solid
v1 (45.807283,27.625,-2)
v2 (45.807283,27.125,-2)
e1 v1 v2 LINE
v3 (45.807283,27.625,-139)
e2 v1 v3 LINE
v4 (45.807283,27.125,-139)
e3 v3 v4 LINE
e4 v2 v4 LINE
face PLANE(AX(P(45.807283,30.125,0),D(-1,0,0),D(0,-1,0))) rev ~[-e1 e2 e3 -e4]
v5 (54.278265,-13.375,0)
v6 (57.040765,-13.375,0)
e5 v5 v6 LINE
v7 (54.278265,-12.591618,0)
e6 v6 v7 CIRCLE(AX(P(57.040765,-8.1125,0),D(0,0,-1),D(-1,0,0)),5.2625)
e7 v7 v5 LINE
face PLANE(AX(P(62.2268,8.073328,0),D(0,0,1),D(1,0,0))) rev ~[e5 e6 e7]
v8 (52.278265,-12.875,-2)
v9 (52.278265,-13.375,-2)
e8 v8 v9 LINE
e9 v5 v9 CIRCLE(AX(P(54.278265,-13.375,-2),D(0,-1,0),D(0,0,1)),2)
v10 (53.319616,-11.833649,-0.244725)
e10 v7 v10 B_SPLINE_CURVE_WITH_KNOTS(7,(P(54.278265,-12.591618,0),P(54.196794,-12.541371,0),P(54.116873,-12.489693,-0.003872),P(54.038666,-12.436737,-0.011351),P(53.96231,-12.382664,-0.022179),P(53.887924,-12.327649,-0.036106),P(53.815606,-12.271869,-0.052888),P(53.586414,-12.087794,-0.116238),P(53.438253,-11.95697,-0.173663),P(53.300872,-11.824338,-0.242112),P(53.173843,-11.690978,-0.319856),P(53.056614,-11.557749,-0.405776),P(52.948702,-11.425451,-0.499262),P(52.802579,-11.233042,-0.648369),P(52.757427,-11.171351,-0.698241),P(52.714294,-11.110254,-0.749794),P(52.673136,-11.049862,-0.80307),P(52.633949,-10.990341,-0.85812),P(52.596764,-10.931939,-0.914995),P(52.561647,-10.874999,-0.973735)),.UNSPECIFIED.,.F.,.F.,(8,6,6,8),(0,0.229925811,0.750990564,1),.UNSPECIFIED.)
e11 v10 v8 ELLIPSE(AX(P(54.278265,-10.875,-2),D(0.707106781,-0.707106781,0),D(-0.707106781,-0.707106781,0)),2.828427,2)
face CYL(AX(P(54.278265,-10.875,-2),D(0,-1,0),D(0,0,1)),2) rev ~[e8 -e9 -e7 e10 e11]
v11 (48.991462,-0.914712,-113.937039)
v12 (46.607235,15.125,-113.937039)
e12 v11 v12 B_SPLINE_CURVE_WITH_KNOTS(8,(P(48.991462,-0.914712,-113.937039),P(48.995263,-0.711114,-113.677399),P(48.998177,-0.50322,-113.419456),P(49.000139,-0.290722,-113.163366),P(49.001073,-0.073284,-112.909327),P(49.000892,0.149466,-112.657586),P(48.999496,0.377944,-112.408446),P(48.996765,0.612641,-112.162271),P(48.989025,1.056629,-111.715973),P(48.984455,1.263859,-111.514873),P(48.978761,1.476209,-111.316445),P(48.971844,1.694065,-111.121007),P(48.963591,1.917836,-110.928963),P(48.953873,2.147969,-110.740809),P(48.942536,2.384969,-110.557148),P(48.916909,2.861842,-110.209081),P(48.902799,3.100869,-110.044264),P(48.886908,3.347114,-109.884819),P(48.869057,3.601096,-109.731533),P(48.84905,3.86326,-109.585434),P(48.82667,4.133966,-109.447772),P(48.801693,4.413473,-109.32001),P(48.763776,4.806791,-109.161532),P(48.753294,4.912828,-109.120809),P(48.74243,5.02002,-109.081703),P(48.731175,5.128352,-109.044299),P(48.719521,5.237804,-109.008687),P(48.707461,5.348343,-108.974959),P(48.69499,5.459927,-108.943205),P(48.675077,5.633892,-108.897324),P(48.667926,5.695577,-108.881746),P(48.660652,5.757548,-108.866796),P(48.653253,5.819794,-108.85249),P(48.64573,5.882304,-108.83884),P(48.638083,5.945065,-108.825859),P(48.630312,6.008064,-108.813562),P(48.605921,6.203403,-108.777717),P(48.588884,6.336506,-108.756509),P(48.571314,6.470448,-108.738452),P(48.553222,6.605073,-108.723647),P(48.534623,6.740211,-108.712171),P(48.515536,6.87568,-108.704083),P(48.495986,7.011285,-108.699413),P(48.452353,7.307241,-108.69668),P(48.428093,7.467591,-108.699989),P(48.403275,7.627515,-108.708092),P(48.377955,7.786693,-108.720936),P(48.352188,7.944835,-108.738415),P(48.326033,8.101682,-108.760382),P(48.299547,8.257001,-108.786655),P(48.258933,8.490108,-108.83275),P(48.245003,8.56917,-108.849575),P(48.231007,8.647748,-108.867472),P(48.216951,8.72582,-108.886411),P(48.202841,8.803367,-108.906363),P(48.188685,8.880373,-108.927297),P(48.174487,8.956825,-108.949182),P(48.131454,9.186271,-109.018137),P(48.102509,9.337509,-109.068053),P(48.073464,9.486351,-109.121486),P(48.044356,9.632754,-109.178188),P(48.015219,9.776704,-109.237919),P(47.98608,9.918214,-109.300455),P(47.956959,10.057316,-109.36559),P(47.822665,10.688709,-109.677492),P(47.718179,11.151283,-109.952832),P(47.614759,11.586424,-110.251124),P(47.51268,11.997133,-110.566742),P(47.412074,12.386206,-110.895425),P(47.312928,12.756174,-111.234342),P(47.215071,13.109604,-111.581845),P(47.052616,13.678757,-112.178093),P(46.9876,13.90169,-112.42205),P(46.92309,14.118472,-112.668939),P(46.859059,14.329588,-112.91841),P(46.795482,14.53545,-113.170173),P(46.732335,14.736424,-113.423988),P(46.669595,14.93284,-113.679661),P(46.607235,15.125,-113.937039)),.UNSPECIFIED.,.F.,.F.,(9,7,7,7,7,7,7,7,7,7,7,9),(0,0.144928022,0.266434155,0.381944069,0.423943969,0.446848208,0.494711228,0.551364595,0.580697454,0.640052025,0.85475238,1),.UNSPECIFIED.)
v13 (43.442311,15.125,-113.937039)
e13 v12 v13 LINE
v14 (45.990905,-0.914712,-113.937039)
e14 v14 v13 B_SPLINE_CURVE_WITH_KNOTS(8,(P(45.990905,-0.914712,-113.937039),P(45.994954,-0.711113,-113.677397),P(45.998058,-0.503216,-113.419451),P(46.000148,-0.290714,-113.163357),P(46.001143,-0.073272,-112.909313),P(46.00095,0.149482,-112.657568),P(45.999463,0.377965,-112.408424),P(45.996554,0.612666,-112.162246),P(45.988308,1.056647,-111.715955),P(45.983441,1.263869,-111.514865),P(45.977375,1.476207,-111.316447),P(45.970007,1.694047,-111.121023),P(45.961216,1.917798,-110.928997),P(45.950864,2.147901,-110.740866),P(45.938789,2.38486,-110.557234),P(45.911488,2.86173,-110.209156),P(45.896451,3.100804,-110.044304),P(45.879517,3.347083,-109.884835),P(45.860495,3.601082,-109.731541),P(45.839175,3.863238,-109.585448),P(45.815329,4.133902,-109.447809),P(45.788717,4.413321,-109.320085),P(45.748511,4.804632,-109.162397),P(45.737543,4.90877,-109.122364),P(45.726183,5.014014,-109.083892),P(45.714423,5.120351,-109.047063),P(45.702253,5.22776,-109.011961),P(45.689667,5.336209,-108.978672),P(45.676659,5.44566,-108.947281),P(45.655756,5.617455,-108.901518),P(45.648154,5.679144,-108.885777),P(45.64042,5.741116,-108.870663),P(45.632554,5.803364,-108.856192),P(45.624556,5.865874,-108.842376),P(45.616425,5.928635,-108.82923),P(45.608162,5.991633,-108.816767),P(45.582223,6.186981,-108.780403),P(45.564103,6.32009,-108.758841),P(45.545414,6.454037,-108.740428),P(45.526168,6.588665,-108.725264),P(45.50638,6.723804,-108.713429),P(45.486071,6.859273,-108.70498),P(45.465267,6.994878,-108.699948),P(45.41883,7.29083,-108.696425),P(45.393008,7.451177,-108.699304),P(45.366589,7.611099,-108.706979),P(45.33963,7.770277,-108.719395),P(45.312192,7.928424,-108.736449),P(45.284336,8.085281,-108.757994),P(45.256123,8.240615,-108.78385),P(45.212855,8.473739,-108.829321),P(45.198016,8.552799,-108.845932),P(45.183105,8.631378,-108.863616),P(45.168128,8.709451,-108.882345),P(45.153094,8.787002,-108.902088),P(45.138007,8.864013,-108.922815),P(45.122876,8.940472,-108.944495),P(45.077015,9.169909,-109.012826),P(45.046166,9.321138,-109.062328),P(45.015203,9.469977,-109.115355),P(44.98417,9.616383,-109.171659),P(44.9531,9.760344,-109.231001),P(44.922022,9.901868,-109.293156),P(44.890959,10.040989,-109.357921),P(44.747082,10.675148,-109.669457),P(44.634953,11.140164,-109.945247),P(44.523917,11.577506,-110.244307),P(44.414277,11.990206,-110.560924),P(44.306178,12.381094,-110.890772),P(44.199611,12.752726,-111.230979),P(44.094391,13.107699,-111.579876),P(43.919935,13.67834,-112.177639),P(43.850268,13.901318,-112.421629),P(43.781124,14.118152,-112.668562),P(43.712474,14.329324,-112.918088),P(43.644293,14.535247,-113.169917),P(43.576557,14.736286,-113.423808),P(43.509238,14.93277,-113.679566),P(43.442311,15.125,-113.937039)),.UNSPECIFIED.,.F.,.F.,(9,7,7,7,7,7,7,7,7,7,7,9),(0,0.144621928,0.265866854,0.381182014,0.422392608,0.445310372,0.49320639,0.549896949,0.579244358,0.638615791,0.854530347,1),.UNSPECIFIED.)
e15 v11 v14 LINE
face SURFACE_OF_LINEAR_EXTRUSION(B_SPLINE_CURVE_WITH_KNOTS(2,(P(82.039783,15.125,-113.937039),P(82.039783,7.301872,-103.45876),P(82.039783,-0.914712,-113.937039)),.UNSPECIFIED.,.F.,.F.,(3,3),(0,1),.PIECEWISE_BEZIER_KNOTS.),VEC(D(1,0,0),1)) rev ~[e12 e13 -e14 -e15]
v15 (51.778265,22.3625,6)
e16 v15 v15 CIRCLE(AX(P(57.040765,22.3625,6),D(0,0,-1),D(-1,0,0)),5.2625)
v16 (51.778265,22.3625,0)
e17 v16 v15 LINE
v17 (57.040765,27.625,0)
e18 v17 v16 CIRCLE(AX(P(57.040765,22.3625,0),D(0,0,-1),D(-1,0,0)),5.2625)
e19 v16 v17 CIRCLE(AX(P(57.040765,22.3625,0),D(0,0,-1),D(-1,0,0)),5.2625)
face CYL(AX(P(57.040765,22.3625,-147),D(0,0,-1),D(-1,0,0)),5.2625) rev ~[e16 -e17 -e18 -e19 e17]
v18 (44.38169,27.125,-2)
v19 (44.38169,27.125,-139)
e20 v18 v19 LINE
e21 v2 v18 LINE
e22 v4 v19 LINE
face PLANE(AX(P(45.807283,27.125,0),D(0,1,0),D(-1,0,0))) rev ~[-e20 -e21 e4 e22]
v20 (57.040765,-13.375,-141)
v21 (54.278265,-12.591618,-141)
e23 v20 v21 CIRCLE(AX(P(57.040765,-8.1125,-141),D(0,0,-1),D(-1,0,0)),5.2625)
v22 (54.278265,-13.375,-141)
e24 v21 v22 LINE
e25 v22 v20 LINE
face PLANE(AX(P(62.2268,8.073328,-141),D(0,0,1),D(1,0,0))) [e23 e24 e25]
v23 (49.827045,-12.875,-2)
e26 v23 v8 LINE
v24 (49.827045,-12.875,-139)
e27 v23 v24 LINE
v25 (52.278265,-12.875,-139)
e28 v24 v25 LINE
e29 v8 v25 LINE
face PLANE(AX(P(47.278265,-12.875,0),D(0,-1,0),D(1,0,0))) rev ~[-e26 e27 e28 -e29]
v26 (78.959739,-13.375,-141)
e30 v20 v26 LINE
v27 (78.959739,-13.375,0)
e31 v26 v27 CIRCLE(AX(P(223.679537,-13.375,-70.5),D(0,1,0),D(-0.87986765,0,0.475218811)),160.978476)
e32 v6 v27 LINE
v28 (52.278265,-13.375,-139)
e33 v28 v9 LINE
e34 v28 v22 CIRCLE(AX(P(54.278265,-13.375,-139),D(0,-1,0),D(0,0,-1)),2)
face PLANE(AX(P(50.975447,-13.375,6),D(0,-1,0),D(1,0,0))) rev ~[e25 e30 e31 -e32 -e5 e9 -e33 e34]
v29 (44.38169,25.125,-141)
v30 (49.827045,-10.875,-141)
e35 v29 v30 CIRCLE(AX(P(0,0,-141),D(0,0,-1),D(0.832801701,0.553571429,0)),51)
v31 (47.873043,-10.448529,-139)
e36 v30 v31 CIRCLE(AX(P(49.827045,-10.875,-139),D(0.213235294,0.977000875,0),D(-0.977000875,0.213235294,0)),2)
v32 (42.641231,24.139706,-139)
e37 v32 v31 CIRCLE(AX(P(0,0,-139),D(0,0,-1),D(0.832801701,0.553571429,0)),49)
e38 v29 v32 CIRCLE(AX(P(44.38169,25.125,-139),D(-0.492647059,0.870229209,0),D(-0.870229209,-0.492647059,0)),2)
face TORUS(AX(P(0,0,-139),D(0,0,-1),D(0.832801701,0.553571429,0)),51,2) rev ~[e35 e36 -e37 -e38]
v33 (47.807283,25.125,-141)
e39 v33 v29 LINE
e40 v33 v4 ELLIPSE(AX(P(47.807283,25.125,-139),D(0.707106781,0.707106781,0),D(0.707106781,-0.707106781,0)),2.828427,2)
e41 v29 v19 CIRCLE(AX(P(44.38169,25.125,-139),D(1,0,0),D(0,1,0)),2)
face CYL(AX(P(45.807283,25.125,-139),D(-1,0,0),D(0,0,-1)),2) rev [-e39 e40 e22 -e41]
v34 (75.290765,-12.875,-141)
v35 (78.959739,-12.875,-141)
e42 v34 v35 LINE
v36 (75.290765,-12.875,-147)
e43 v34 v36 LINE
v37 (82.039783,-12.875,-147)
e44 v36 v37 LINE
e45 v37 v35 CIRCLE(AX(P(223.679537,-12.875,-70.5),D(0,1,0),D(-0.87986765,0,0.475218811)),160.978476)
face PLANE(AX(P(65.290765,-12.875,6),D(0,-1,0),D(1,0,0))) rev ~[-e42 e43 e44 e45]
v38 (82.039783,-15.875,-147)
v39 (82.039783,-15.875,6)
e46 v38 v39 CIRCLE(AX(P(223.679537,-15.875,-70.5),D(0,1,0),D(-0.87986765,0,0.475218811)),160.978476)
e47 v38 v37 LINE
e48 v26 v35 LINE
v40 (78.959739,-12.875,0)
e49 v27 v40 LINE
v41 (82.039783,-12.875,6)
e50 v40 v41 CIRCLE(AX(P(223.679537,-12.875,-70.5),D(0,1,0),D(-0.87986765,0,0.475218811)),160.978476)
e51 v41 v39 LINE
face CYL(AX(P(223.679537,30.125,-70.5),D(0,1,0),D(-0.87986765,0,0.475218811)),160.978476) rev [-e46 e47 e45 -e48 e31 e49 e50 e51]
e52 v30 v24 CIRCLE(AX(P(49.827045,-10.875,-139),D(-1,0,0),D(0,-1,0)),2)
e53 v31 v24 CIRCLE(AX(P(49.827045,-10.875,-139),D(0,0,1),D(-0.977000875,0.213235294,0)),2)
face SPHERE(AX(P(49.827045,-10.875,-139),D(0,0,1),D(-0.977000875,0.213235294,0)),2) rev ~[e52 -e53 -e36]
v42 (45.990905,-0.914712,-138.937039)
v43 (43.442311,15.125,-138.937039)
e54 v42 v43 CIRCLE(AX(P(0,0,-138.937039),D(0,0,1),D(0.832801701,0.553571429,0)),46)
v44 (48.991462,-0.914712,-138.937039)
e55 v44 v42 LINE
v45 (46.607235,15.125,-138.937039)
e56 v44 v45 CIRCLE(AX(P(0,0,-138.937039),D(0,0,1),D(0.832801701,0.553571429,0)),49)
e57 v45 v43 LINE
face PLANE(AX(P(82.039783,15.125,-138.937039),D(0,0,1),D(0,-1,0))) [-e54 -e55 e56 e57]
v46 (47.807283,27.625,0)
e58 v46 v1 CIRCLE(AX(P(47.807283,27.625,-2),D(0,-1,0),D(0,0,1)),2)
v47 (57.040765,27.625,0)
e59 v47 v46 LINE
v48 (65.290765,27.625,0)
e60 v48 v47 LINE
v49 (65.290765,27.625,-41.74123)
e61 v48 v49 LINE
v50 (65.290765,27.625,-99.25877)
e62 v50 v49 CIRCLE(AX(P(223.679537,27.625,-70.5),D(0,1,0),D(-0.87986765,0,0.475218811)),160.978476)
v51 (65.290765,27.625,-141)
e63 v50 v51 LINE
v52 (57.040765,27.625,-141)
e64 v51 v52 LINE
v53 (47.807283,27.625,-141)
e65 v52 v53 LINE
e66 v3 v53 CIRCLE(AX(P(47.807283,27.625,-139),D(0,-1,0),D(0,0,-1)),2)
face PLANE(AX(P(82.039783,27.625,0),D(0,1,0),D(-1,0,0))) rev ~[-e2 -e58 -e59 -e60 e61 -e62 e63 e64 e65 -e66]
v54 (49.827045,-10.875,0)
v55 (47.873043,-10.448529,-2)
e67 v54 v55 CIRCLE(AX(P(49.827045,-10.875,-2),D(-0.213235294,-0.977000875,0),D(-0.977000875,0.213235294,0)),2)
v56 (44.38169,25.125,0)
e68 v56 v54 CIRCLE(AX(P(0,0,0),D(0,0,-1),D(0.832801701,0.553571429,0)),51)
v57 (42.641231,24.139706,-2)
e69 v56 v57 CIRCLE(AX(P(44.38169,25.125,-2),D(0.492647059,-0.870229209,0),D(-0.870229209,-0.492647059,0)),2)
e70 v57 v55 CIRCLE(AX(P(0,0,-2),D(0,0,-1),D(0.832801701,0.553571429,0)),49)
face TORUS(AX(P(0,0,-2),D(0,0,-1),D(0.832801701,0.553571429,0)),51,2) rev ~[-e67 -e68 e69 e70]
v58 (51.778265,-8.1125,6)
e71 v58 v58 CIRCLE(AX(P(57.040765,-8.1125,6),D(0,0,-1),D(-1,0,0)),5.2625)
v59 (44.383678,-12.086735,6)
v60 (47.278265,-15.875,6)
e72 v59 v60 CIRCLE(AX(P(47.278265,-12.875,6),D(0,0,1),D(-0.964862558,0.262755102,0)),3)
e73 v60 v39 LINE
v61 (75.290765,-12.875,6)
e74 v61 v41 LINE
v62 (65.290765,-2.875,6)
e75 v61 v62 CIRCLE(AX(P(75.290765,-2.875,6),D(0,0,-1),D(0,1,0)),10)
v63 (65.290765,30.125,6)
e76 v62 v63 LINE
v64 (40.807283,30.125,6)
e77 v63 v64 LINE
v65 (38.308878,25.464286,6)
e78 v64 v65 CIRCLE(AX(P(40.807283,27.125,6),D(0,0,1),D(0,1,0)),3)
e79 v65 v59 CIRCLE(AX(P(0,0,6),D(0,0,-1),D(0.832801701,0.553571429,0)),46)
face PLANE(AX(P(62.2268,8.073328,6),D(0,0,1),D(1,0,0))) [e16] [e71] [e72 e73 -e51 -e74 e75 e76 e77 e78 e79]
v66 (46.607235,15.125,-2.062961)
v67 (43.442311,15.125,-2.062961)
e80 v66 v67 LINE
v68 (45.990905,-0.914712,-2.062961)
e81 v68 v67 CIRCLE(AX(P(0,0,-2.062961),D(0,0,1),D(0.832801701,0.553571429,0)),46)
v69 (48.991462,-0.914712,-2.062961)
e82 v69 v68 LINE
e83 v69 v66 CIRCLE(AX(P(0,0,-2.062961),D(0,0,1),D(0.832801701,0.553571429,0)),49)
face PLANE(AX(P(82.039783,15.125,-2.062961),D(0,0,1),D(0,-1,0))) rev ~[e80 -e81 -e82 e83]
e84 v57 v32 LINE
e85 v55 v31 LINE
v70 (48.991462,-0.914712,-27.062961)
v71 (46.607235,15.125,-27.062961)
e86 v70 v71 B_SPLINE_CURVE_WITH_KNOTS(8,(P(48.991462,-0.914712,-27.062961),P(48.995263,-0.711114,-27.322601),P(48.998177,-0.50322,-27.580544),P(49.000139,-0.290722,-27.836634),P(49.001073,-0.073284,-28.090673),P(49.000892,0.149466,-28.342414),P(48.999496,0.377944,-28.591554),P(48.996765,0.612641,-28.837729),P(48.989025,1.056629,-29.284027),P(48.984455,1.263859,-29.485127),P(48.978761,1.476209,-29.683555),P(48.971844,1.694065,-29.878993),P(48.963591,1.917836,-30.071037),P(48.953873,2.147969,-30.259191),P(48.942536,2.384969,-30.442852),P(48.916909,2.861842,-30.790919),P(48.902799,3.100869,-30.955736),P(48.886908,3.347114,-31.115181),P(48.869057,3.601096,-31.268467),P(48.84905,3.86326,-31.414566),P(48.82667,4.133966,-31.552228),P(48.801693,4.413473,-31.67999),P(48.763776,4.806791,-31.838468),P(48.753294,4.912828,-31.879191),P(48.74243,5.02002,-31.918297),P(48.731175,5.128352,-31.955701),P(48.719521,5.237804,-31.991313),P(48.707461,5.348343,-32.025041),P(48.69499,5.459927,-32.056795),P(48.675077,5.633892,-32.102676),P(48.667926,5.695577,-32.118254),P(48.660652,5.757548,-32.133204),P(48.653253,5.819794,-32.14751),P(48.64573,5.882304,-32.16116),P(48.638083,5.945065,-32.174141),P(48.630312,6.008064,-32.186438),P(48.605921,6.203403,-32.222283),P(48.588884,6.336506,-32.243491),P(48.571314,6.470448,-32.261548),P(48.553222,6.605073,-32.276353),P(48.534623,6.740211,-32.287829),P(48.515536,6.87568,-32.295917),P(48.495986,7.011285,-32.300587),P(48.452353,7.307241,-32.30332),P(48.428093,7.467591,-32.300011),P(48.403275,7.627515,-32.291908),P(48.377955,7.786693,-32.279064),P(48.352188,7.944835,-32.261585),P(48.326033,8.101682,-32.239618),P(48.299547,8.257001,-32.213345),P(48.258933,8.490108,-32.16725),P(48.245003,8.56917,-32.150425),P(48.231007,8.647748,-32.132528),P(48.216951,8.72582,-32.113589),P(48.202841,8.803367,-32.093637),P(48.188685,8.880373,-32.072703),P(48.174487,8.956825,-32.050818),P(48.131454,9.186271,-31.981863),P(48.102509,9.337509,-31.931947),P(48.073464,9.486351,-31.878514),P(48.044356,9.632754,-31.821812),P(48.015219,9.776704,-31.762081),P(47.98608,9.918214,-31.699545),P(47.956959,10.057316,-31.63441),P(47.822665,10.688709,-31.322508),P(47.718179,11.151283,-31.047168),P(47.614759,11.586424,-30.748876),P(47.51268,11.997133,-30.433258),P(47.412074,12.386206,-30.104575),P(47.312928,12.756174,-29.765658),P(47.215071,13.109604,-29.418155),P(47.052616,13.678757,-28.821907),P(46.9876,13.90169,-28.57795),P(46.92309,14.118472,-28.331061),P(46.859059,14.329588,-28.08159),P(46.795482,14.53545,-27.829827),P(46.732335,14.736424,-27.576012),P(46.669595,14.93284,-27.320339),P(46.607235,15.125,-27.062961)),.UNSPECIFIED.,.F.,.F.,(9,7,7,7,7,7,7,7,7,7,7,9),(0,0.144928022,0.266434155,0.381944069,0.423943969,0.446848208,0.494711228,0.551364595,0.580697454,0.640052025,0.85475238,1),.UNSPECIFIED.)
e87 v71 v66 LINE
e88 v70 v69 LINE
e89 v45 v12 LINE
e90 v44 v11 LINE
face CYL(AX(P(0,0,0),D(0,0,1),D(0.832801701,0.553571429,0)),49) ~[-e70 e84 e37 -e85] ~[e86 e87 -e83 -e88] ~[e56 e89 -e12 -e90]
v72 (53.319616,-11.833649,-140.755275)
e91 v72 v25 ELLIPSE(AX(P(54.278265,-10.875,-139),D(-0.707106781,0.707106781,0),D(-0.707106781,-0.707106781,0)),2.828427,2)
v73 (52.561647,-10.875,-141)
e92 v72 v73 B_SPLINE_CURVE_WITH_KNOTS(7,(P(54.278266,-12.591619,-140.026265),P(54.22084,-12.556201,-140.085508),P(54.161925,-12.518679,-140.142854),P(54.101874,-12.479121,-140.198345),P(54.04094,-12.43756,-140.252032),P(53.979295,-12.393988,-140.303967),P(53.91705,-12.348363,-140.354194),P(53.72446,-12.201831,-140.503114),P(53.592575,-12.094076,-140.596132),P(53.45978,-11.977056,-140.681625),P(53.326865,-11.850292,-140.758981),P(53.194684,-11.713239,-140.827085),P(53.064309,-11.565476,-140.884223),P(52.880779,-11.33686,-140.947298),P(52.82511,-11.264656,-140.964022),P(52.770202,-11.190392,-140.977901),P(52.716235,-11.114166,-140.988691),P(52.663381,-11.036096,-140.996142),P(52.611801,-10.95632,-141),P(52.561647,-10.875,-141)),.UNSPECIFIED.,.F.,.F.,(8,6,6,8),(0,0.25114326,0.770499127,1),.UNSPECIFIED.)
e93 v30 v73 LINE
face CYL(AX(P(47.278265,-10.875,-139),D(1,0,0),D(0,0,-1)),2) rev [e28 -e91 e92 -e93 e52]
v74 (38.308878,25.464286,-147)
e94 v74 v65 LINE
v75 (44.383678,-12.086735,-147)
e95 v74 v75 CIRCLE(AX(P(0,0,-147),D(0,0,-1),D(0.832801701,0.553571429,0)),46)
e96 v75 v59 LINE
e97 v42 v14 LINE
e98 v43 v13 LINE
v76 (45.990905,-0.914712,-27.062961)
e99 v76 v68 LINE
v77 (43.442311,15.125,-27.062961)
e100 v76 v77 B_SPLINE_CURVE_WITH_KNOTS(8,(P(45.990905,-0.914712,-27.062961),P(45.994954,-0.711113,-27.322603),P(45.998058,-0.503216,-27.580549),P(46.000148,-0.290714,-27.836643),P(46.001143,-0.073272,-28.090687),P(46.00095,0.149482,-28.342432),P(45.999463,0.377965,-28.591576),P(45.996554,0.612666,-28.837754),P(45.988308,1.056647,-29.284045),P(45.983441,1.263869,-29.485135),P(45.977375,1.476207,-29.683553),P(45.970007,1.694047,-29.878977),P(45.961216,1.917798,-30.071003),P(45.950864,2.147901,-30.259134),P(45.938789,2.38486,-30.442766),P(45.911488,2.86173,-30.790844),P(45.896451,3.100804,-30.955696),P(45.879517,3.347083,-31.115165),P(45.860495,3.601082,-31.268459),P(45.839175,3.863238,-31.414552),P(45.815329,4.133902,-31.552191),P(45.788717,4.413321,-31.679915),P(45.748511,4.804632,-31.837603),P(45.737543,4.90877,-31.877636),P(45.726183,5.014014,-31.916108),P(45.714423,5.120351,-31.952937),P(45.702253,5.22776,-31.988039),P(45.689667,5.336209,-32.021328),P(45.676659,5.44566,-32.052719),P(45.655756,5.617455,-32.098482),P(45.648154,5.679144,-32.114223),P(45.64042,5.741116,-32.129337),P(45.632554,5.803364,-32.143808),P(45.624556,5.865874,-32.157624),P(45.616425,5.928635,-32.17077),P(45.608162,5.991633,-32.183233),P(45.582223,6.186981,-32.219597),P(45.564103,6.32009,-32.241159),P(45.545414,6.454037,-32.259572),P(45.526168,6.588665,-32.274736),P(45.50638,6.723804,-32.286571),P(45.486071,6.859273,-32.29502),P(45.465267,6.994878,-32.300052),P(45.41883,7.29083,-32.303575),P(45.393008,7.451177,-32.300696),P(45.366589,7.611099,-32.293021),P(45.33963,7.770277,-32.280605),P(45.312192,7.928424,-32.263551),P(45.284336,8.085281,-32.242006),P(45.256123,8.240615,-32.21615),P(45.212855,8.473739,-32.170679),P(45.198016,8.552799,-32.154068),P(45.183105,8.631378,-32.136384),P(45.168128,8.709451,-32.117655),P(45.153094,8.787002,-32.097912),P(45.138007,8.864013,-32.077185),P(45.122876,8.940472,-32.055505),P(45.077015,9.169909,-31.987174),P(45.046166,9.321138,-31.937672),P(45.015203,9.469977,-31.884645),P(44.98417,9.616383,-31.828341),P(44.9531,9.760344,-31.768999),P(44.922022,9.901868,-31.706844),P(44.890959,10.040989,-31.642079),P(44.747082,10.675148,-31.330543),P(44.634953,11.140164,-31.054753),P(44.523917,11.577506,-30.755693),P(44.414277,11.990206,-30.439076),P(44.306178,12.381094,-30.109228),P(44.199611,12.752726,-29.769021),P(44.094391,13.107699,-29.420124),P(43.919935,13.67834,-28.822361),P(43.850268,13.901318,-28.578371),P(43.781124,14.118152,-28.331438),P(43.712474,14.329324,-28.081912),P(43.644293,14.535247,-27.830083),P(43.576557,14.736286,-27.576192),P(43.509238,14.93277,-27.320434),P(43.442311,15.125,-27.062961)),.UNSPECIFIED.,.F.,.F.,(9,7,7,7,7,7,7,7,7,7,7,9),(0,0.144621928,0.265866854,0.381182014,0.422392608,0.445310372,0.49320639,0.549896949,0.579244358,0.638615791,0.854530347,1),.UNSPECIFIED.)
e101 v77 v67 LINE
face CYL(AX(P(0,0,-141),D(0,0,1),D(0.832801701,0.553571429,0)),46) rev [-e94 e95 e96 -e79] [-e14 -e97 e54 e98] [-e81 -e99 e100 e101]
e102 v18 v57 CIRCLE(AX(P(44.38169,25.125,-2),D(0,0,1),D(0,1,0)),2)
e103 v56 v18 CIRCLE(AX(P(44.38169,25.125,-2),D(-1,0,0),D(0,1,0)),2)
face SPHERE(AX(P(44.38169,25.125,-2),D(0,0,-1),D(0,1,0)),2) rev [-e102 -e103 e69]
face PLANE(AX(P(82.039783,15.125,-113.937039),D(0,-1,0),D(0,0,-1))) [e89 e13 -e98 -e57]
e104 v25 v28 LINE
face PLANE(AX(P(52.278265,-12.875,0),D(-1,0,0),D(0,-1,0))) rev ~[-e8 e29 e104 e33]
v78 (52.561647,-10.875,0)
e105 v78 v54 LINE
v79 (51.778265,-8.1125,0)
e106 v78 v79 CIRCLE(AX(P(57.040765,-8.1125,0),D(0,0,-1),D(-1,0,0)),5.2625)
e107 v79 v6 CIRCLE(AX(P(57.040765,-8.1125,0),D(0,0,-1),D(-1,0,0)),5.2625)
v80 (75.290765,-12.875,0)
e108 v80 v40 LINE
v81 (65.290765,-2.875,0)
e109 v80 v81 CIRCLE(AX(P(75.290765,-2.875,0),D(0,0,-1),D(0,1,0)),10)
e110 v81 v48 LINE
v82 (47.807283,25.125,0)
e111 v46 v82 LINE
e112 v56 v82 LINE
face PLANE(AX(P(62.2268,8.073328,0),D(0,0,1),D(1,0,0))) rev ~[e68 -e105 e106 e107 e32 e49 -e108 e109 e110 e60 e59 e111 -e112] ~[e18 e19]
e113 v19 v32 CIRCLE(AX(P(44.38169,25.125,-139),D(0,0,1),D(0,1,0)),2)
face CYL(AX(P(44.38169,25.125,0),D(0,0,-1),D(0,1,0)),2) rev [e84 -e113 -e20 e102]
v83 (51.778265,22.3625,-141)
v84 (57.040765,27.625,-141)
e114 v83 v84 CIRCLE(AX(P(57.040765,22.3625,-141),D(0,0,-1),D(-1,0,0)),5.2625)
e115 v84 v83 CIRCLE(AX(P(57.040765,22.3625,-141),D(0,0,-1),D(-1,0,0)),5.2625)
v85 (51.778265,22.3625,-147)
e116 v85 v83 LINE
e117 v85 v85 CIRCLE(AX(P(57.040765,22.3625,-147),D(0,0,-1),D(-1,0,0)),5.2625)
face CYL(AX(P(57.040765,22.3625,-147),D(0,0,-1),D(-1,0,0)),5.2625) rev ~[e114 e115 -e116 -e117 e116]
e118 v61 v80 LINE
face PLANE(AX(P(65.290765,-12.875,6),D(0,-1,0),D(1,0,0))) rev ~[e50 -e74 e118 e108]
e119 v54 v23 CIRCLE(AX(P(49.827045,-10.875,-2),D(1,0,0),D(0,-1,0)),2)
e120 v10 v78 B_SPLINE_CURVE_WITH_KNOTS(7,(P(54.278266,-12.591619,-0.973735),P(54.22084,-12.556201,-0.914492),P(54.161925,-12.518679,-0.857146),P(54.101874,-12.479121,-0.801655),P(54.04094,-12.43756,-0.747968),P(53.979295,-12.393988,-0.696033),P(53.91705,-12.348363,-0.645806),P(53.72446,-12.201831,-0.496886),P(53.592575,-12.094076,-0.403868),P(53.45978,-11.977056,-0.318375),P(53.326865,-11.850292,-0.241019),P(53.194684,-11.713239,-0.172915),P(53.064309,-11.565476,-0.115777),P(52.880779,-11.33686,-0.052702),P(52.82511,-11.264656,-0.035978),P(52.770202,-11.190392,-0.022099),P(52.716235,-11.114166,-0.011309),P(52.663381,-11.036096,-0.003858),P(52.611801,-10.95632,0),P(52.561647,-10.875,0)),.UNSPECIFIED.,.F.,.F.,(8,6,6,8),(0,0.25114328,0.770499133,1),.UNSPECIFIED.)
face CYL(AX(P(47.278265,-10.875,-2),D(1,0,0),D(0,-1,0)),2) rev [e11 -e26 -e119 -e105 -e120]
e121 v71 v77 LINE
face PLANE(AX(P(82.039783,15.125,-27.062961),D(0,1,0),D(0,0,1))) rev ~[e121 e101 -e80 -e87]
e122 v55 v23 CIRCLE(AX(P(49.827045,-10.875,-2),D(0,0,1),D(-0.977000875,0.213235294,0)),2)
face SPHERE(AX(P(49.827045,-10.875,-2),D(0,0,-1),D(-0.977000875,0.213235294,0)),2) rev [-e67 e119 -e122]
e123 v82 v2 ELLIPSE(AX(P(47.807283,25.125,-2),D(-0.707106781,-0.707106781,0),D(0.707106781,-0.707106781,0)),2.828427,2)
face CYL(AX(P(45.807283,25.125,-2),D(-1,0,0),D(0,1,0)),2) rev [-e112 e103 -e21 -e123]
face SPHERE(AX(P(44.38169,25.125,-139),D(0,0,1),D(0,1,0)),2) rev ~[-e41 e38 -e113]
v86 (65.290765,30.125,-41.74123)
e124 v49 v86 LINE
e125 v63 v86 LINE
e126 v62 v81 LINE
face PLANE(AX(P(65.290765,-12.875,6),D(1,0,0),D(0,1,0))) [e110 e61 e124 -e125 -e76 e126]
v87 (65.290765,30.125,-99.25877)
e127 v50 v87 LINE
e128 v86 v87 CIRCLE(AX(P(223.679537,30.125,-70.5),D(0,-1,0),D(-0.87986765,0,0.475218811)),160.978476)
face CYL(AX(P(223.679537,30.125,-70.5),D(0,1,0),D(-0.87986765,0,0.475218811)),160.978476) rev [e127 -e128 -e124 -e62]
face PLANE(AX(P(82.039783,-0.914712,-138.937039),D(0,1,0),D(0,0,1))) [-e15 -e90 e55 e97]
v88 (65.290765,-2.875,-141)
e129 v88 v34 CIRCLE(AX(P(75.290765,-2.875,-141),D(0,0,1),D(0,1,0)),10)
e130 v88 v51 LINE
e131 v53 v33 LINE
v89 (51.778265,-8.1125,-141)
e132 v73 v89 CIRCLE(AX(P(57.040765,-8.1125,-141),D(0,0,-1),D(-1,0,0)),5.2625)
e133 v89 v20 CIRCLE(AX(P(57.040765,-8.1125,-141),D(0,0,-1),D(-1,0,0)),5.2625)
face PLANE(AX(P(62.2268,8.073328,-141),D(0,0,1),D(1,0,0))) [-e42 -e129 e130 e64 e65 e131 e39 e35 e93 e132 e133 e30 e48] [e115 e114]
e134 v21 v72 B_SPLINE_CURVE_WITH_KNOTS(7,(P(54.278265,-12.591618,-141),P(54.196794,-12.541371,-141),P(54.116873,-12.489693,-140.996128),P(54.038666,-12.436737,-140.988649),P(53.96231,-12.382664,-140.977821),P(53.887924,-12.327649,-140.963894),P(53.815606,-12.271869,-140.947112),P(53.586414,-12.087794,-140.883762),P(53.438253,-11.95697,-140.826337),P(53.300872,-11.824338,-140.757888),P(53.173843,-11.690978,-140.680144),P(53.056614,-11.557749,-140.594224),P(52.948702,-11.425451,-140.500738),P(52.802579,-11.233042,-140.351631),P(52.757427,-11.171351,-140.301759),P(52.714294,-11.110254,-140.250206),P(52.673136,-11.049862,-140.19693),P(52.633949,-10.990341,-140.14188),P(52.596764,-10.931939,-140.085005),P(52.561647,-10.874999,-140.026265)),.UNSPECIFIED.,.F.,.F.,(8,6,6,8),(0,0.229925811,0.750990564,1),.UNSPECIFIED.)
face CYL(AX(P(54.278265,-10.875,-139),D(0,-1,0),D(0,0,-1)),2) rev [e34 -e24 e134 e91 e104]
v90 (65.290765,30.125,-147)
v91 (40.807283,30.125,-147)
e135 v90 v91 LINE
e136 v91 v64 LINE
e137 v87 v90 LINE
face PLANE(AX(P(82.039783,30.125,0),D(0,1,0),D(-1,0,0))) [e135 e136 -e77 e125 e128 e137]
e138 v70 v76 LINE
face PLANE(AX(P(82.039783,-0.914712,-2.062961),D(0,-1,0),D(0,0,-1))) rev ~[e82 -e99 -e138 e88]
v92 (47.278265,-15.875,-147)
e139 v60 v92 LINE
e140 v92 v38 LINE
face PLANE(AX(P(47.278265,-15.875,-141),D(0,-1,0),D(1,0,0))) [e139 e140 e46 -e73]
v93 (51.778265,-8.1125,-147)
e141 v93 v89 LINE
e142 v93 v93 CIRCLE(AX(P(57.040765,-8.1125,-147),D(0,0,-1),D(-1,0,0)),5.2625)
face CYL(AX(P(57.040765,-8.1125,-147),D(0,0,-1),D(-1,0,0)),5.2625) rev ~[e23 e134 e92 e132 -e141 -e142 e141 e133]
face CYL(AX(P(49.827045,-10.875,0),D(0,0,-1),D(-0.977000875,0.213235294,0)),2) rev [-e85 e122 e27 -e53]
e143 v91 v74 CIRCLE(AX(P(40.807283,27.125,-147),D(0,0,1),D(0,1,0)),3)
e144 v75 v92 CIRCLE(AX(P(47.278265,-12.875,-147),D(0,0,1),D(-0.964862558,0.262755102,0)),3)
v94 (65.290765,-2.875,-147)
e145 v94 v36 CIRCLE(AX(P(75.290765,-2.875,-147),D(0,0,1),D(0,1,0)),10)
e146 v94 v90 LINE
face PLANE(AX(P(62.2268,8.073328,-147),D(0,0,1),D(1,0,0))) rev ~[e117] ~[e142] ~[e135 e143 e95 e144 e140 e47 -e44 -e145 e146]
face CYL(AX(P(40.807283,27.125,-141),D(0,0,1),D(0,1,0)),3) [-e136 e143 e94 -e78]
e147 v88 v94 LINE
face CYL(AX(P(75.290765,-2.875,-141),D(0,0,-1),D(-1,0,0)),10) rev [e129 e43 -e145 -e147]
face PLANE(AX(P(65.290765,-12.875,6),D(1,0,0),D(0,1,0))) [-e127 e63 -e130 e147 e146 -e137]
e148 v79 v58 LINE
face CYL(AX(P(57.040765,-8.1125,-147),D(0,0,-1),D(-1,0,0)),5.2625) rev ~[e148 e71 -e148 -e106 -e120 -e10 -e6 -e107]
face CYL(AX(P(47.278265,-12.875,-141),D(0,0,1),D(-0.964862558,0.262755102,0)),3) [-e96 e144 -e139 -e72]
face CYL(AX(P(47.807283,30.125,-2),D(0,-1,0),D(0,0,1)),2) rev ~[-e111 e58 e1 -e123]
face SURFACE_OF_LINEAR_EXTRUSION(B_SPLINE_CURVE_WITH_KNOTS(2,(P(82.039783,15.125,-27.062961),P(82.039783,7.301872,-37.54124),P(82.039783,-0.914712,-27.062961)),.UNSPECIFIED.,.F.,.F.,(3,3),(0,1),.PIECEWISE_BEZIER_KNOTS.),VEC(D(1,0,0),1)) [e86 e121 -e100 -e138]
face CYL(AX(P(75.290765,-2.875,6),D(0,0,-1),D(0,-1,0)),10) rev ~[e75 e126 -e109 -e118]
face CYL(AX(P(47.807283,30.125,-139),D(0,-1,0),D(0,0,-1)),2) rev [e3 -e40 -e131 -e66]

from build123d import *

# Parameters (mm, degrees)
SALIENTE_EXTRUIR1_DEPTH = 6
SALIENTE_EXTRUIR4_START = 141
SALIENTE_EXTRUIR4_DEPTH = 141
SALIENTE_EXTRUIR5_START = 6
SALIENTE_EXTRUIR5_DEPTH = 6
REDONDEO10_R            = 2
REDONDEO11_R            = 2
CROQUIS8_R              = 5.2625
CORTAR_EXTRUIR5_DEPTH   = 161
CORTAR_EXTRUIR4_DEPTH   = 157.438581273
CROQUIS10_W             = 37.37553938
CROQUIS10_H             = 2.5
SALIENTE_EXTRUIR6_DEPTH = 142
CROQUIS15_W             = 31.064336603
CROQUIS15_H             = 2.5
SALIENTE_EXTRUIR8_DEPTH = 148
CROQUIS16_R             = 1.5
CORTAR_EXTRUIR6_DEPTH   = 156
CORTAR_EXTRUIR7_DEPTH   = 64
CROQUIS19_W             = 16.749018002
CROQUIS19_H             = 43
CORTAR_EXTRUIR9_DEPTH   = 157
REDONDEO12_R            = 10


with BuildPart() as part:
    # Croquis1 → Saliente-Extruir1 (new body)
    with BuildSketch(Plane.XY):
        with BuildLine():
            Line((47.278265355, -15.875), (82.039783357, -15.875))
            Line((82.039783357, -15.875), (82.039783357, 30.125))
            Line((82.039783357, 30.125), (40.807283357, 30.125))
            ThreePointArc((40.807283357, 30.125), (38.163219926, 28.542366774), (38.308878254, 25.464285714))
            ThreePointArc((38.308878254, 25.464285714), (45.409629872, 7.346122436), (44.38367768, -12.086734694))
            ThreePointArc((44.38367768, -12.086734694), (44.89448727, -14.696428571), (47.278265355, -15.875))
        make_face()
    extrude(amount=SALIENTE_EXTRUIR1_DEPTH)

    # Croquis6 → Saliente-Extruir4 (add)
    with BuildSketch(Plane(origin=(0, 0, 0), x_dir=(-1, 0, 0), z_dir=(0, 0, -1)).offset(SALIENTE_EXTRUIR4_START)):
        with BuildLine():
            Line((-45.807283357, 27.125), (-40.807283357, 27.125))
            ThreePointArc((-40.807283357, 27.125), (-48.371127473, 7.825217377), (-47.278265355, -12.875))
            Line((-47.278265355, -12.875), (-52.278265355, -12.875))
            Line((-52.278265355, -12.875), (-52.278265355, -15.875))
            Line((-52.278265355, -15.875), (-47.278265355, -15.875))
            ThreePointArc((-47.278265355, -15.875), (-44.89448727, -14.696428571), (-44.38367768, -12.086734694))
            ThreePointArc((-44.38367768, -12.086734694), (-45.409629872, 7.346122436), (-38.308878254, 25.464285714))
            ThreePointArc((-38.308878254, 25.464285714), (-38.163219926, 28.542366774), (-40.807283357, 30.125))
            Line((-40.807283357, 30.125), (-45.807283357, 30.125))
            Line((-45.807283357, 30.125), (-45.807283357, 27.125))
        make_face()
    extrude(amount=-SALIENTE_EXTRUIR4_DEPTH)

    # Croquis7 → Saliente-Extruir5 (add)
    with BuildSketch(Plane(origin=(0, 0, -141), x_dir=(-1, 0, 0), z_dir=(0, 0, -1)).offset(SALIENTE_EXTRUIR5_START)):
        with BuildLine():
            Line((-82.039783357, 30.125), (-40.807283357, 30.125))
            ThreePointArc((-40.807283357, 30.125), (-38.163219926, 28.542366774), (-38.308878254, 25.464285714))
            ThreePointArc((-38.308878254, 25.464285714), (-45.409629872, 7.346122436), (-44.38367768, -12.086734694))
            ThreePointArc((-44.38367768, -12.086734694), (-44.89448727, -14.696428571), (-47.278265355, -15.875))
            Line((-47.278265355, -15.875), (-82.039783357, -15.875))
            Line((-82.039783357, -15.875), (-82.039783357, 30.125))
        make_face()
    extrude(amount=-SALIENTE_EXTRUIR5_DEPTH)

    # Redondeo10
    redondeo10_edges = [part.edges().sort_by_distance(p)[0] for p in [
        (43.307283357, 27.125, -141),
        (43.307283357, 27.125, 0),
        (49.778265355, -12.875, 0),
        (49.778265355, -12.875, -141),
        (40.807283357, 27.125, -70.5),
        (47.278265355, -12.875, -70.5),
        (48.371127473, 7.825217377, -141),
        (48.371127473, 7.825217377, 0),
    ]]
    fillet(redondeo10_edges, radius=REDONDEO10_R)

    # Redondeo11
    redondeo11_edges = [part.edges().sort_by_distance(p)[0] for p in [
        (45.807283357, 27.625, 0),
        (52.278265355, -13.375, 0),
        (52.278265355, -13.375, -141),
        (45.807283357, 27.625, -141),
    ]]
    fillet(redondeo11_edges, radius=REDONDEO11_R)

    # Croquis8 → Cortar-Extruir5 (cut)
    with BuildSketch(Plane(origin=(0, 0, -147), x_dir=(-1, 0, 0), z_dir=(0, 0, -1))):
        with Locations((-57.040765355, -8.1125)):
            Circle(CROQUIS8_R)
        with Locations((-57.040765355, 22.3625)):
            Circle(CROQUIS8_R)
    extrude(amount=-CORTAR_EXTRUIR5_DEPTH, mode=Mode.SUBTRACT)

    # Croquis9 → Cortar-Extruir4 (cut, through all)
    with BuildSketch(Plane(origin=(82.039783357, 0, 0), x_dir=(0, 0, -1), z_dir=(1, 0, 0))):
        with BuildLine():
            Line((138.937038998, 15.125), (138.937038998, -0.914712205))
            Line((138.937038998, -0.914712205), (113.937038998, -0.914712205))
            add(Edge.make_bspline(
                [(113.937038998, 15.125), (103.458760089, 7.301871649), (113.937038998, -0.914712205)],
                knots=[0, 0, 0, 1, 1, 1], degree=2))
            Line((113.937038998, 15.125), (138.937038998, 15.125))
        make_face()
        with BuildLine():
            Line((2.062961002, 15.125), (2.062961002, -0.914712205))
            Line((2.062961002, -0.914712205), (27.062961002, -0.914712205))
            add(Edge.make_bspline(
                [(27.062961002, 15.125), (37.541239911, 7.301871649), (27.062961002, -0.914712205)],
                knots=[0, 0, 0, 1, 1, 1], degree=2))
            Line((27.062961002, 15.125), (2.062961002, 15.125))
        make_face()
    extrude(amount=-CORTAR_EXTRUIR4_DEPTH, mode=Mode.SUBTRACT)

    # Croquis10 → Saliente-Extruir6 (add)
    with BuildSketch(Plane(origin=(0, 0, 0), x_dir=(-1, 0, 0), z_dir=(0, 0, -1))):
        with Locations((-63.352013667, 28.875)):
            Rectangle(CROQUIS10_W, CROQUIS10_H)
    extrude(amount=SALIENTE_EXTRUIR6_DEPTH)

    # Croquis15 → Saliente-Extruir8 (add)
    with BuildSketch(Plane.XY.offset(6)):
        with Locations((66.507615055, -14.625)):
            Rectangle(CROQUIS15_W, CROQUIS15_H)
    extrude(amount=-SALIENTE_EXTRUIR8_DEPTH)

    # Croquis16 → Cortar-Extruir6 (cut)
    with BuildSketch(Plane.XY.offset(6)):
        with Locations((69.039783357, 16.125)):
            Circle(CROQUIS16_R)
        with Locations((68.932075525, -1.717397604)):
            Circle(CROQUIS16_R)
    extrude(amount=-CORTAR_EXTRUIR6_DEPTH, mode=Mode.SUBTRACT)

    # Croquis18 → Cortar-Extruir7 (cut)
    with BuildSketch(Plane(origin=(0, 30.125, 0), x_dir=(1, 0, 0), z_dir=(0, 1, 0))):
        with BuildLine():
            Line((82.039783357, 147), (82.039783357, -6))
            ThreePointArc((82.039783357, -6), (62.701060719, 70.5), (82.039783357, 147))
        make_face()
    extrude(amount=-CORTAR_EXTRUIR7_DEPTH, mode=Mode.SUBTRACT)

    # Croquis19 → Cortar-Extruir9 (cut)
    with BuildSketch(Plane.XY.offset(6)):
        with Locations((73.665274356, 8.625)):
            Rectangle(CROQUIS19_W, CROQUIS19_H)
    extrude(amount=-CORTAR_EXTRUIR9_DEPTH, mode=Mode.SUBTRACT)

    # Redondeo12
    redondeo12_edges = [part.edges().sort_by_distance(p)[0] for p in [
        (65.290765355, -12.875, -144),
        (65.290765355, -12.875, 3),
    ]]
    fillet(redondeo12_edges, radius=REDONDEO12_R)


solid = part.part
